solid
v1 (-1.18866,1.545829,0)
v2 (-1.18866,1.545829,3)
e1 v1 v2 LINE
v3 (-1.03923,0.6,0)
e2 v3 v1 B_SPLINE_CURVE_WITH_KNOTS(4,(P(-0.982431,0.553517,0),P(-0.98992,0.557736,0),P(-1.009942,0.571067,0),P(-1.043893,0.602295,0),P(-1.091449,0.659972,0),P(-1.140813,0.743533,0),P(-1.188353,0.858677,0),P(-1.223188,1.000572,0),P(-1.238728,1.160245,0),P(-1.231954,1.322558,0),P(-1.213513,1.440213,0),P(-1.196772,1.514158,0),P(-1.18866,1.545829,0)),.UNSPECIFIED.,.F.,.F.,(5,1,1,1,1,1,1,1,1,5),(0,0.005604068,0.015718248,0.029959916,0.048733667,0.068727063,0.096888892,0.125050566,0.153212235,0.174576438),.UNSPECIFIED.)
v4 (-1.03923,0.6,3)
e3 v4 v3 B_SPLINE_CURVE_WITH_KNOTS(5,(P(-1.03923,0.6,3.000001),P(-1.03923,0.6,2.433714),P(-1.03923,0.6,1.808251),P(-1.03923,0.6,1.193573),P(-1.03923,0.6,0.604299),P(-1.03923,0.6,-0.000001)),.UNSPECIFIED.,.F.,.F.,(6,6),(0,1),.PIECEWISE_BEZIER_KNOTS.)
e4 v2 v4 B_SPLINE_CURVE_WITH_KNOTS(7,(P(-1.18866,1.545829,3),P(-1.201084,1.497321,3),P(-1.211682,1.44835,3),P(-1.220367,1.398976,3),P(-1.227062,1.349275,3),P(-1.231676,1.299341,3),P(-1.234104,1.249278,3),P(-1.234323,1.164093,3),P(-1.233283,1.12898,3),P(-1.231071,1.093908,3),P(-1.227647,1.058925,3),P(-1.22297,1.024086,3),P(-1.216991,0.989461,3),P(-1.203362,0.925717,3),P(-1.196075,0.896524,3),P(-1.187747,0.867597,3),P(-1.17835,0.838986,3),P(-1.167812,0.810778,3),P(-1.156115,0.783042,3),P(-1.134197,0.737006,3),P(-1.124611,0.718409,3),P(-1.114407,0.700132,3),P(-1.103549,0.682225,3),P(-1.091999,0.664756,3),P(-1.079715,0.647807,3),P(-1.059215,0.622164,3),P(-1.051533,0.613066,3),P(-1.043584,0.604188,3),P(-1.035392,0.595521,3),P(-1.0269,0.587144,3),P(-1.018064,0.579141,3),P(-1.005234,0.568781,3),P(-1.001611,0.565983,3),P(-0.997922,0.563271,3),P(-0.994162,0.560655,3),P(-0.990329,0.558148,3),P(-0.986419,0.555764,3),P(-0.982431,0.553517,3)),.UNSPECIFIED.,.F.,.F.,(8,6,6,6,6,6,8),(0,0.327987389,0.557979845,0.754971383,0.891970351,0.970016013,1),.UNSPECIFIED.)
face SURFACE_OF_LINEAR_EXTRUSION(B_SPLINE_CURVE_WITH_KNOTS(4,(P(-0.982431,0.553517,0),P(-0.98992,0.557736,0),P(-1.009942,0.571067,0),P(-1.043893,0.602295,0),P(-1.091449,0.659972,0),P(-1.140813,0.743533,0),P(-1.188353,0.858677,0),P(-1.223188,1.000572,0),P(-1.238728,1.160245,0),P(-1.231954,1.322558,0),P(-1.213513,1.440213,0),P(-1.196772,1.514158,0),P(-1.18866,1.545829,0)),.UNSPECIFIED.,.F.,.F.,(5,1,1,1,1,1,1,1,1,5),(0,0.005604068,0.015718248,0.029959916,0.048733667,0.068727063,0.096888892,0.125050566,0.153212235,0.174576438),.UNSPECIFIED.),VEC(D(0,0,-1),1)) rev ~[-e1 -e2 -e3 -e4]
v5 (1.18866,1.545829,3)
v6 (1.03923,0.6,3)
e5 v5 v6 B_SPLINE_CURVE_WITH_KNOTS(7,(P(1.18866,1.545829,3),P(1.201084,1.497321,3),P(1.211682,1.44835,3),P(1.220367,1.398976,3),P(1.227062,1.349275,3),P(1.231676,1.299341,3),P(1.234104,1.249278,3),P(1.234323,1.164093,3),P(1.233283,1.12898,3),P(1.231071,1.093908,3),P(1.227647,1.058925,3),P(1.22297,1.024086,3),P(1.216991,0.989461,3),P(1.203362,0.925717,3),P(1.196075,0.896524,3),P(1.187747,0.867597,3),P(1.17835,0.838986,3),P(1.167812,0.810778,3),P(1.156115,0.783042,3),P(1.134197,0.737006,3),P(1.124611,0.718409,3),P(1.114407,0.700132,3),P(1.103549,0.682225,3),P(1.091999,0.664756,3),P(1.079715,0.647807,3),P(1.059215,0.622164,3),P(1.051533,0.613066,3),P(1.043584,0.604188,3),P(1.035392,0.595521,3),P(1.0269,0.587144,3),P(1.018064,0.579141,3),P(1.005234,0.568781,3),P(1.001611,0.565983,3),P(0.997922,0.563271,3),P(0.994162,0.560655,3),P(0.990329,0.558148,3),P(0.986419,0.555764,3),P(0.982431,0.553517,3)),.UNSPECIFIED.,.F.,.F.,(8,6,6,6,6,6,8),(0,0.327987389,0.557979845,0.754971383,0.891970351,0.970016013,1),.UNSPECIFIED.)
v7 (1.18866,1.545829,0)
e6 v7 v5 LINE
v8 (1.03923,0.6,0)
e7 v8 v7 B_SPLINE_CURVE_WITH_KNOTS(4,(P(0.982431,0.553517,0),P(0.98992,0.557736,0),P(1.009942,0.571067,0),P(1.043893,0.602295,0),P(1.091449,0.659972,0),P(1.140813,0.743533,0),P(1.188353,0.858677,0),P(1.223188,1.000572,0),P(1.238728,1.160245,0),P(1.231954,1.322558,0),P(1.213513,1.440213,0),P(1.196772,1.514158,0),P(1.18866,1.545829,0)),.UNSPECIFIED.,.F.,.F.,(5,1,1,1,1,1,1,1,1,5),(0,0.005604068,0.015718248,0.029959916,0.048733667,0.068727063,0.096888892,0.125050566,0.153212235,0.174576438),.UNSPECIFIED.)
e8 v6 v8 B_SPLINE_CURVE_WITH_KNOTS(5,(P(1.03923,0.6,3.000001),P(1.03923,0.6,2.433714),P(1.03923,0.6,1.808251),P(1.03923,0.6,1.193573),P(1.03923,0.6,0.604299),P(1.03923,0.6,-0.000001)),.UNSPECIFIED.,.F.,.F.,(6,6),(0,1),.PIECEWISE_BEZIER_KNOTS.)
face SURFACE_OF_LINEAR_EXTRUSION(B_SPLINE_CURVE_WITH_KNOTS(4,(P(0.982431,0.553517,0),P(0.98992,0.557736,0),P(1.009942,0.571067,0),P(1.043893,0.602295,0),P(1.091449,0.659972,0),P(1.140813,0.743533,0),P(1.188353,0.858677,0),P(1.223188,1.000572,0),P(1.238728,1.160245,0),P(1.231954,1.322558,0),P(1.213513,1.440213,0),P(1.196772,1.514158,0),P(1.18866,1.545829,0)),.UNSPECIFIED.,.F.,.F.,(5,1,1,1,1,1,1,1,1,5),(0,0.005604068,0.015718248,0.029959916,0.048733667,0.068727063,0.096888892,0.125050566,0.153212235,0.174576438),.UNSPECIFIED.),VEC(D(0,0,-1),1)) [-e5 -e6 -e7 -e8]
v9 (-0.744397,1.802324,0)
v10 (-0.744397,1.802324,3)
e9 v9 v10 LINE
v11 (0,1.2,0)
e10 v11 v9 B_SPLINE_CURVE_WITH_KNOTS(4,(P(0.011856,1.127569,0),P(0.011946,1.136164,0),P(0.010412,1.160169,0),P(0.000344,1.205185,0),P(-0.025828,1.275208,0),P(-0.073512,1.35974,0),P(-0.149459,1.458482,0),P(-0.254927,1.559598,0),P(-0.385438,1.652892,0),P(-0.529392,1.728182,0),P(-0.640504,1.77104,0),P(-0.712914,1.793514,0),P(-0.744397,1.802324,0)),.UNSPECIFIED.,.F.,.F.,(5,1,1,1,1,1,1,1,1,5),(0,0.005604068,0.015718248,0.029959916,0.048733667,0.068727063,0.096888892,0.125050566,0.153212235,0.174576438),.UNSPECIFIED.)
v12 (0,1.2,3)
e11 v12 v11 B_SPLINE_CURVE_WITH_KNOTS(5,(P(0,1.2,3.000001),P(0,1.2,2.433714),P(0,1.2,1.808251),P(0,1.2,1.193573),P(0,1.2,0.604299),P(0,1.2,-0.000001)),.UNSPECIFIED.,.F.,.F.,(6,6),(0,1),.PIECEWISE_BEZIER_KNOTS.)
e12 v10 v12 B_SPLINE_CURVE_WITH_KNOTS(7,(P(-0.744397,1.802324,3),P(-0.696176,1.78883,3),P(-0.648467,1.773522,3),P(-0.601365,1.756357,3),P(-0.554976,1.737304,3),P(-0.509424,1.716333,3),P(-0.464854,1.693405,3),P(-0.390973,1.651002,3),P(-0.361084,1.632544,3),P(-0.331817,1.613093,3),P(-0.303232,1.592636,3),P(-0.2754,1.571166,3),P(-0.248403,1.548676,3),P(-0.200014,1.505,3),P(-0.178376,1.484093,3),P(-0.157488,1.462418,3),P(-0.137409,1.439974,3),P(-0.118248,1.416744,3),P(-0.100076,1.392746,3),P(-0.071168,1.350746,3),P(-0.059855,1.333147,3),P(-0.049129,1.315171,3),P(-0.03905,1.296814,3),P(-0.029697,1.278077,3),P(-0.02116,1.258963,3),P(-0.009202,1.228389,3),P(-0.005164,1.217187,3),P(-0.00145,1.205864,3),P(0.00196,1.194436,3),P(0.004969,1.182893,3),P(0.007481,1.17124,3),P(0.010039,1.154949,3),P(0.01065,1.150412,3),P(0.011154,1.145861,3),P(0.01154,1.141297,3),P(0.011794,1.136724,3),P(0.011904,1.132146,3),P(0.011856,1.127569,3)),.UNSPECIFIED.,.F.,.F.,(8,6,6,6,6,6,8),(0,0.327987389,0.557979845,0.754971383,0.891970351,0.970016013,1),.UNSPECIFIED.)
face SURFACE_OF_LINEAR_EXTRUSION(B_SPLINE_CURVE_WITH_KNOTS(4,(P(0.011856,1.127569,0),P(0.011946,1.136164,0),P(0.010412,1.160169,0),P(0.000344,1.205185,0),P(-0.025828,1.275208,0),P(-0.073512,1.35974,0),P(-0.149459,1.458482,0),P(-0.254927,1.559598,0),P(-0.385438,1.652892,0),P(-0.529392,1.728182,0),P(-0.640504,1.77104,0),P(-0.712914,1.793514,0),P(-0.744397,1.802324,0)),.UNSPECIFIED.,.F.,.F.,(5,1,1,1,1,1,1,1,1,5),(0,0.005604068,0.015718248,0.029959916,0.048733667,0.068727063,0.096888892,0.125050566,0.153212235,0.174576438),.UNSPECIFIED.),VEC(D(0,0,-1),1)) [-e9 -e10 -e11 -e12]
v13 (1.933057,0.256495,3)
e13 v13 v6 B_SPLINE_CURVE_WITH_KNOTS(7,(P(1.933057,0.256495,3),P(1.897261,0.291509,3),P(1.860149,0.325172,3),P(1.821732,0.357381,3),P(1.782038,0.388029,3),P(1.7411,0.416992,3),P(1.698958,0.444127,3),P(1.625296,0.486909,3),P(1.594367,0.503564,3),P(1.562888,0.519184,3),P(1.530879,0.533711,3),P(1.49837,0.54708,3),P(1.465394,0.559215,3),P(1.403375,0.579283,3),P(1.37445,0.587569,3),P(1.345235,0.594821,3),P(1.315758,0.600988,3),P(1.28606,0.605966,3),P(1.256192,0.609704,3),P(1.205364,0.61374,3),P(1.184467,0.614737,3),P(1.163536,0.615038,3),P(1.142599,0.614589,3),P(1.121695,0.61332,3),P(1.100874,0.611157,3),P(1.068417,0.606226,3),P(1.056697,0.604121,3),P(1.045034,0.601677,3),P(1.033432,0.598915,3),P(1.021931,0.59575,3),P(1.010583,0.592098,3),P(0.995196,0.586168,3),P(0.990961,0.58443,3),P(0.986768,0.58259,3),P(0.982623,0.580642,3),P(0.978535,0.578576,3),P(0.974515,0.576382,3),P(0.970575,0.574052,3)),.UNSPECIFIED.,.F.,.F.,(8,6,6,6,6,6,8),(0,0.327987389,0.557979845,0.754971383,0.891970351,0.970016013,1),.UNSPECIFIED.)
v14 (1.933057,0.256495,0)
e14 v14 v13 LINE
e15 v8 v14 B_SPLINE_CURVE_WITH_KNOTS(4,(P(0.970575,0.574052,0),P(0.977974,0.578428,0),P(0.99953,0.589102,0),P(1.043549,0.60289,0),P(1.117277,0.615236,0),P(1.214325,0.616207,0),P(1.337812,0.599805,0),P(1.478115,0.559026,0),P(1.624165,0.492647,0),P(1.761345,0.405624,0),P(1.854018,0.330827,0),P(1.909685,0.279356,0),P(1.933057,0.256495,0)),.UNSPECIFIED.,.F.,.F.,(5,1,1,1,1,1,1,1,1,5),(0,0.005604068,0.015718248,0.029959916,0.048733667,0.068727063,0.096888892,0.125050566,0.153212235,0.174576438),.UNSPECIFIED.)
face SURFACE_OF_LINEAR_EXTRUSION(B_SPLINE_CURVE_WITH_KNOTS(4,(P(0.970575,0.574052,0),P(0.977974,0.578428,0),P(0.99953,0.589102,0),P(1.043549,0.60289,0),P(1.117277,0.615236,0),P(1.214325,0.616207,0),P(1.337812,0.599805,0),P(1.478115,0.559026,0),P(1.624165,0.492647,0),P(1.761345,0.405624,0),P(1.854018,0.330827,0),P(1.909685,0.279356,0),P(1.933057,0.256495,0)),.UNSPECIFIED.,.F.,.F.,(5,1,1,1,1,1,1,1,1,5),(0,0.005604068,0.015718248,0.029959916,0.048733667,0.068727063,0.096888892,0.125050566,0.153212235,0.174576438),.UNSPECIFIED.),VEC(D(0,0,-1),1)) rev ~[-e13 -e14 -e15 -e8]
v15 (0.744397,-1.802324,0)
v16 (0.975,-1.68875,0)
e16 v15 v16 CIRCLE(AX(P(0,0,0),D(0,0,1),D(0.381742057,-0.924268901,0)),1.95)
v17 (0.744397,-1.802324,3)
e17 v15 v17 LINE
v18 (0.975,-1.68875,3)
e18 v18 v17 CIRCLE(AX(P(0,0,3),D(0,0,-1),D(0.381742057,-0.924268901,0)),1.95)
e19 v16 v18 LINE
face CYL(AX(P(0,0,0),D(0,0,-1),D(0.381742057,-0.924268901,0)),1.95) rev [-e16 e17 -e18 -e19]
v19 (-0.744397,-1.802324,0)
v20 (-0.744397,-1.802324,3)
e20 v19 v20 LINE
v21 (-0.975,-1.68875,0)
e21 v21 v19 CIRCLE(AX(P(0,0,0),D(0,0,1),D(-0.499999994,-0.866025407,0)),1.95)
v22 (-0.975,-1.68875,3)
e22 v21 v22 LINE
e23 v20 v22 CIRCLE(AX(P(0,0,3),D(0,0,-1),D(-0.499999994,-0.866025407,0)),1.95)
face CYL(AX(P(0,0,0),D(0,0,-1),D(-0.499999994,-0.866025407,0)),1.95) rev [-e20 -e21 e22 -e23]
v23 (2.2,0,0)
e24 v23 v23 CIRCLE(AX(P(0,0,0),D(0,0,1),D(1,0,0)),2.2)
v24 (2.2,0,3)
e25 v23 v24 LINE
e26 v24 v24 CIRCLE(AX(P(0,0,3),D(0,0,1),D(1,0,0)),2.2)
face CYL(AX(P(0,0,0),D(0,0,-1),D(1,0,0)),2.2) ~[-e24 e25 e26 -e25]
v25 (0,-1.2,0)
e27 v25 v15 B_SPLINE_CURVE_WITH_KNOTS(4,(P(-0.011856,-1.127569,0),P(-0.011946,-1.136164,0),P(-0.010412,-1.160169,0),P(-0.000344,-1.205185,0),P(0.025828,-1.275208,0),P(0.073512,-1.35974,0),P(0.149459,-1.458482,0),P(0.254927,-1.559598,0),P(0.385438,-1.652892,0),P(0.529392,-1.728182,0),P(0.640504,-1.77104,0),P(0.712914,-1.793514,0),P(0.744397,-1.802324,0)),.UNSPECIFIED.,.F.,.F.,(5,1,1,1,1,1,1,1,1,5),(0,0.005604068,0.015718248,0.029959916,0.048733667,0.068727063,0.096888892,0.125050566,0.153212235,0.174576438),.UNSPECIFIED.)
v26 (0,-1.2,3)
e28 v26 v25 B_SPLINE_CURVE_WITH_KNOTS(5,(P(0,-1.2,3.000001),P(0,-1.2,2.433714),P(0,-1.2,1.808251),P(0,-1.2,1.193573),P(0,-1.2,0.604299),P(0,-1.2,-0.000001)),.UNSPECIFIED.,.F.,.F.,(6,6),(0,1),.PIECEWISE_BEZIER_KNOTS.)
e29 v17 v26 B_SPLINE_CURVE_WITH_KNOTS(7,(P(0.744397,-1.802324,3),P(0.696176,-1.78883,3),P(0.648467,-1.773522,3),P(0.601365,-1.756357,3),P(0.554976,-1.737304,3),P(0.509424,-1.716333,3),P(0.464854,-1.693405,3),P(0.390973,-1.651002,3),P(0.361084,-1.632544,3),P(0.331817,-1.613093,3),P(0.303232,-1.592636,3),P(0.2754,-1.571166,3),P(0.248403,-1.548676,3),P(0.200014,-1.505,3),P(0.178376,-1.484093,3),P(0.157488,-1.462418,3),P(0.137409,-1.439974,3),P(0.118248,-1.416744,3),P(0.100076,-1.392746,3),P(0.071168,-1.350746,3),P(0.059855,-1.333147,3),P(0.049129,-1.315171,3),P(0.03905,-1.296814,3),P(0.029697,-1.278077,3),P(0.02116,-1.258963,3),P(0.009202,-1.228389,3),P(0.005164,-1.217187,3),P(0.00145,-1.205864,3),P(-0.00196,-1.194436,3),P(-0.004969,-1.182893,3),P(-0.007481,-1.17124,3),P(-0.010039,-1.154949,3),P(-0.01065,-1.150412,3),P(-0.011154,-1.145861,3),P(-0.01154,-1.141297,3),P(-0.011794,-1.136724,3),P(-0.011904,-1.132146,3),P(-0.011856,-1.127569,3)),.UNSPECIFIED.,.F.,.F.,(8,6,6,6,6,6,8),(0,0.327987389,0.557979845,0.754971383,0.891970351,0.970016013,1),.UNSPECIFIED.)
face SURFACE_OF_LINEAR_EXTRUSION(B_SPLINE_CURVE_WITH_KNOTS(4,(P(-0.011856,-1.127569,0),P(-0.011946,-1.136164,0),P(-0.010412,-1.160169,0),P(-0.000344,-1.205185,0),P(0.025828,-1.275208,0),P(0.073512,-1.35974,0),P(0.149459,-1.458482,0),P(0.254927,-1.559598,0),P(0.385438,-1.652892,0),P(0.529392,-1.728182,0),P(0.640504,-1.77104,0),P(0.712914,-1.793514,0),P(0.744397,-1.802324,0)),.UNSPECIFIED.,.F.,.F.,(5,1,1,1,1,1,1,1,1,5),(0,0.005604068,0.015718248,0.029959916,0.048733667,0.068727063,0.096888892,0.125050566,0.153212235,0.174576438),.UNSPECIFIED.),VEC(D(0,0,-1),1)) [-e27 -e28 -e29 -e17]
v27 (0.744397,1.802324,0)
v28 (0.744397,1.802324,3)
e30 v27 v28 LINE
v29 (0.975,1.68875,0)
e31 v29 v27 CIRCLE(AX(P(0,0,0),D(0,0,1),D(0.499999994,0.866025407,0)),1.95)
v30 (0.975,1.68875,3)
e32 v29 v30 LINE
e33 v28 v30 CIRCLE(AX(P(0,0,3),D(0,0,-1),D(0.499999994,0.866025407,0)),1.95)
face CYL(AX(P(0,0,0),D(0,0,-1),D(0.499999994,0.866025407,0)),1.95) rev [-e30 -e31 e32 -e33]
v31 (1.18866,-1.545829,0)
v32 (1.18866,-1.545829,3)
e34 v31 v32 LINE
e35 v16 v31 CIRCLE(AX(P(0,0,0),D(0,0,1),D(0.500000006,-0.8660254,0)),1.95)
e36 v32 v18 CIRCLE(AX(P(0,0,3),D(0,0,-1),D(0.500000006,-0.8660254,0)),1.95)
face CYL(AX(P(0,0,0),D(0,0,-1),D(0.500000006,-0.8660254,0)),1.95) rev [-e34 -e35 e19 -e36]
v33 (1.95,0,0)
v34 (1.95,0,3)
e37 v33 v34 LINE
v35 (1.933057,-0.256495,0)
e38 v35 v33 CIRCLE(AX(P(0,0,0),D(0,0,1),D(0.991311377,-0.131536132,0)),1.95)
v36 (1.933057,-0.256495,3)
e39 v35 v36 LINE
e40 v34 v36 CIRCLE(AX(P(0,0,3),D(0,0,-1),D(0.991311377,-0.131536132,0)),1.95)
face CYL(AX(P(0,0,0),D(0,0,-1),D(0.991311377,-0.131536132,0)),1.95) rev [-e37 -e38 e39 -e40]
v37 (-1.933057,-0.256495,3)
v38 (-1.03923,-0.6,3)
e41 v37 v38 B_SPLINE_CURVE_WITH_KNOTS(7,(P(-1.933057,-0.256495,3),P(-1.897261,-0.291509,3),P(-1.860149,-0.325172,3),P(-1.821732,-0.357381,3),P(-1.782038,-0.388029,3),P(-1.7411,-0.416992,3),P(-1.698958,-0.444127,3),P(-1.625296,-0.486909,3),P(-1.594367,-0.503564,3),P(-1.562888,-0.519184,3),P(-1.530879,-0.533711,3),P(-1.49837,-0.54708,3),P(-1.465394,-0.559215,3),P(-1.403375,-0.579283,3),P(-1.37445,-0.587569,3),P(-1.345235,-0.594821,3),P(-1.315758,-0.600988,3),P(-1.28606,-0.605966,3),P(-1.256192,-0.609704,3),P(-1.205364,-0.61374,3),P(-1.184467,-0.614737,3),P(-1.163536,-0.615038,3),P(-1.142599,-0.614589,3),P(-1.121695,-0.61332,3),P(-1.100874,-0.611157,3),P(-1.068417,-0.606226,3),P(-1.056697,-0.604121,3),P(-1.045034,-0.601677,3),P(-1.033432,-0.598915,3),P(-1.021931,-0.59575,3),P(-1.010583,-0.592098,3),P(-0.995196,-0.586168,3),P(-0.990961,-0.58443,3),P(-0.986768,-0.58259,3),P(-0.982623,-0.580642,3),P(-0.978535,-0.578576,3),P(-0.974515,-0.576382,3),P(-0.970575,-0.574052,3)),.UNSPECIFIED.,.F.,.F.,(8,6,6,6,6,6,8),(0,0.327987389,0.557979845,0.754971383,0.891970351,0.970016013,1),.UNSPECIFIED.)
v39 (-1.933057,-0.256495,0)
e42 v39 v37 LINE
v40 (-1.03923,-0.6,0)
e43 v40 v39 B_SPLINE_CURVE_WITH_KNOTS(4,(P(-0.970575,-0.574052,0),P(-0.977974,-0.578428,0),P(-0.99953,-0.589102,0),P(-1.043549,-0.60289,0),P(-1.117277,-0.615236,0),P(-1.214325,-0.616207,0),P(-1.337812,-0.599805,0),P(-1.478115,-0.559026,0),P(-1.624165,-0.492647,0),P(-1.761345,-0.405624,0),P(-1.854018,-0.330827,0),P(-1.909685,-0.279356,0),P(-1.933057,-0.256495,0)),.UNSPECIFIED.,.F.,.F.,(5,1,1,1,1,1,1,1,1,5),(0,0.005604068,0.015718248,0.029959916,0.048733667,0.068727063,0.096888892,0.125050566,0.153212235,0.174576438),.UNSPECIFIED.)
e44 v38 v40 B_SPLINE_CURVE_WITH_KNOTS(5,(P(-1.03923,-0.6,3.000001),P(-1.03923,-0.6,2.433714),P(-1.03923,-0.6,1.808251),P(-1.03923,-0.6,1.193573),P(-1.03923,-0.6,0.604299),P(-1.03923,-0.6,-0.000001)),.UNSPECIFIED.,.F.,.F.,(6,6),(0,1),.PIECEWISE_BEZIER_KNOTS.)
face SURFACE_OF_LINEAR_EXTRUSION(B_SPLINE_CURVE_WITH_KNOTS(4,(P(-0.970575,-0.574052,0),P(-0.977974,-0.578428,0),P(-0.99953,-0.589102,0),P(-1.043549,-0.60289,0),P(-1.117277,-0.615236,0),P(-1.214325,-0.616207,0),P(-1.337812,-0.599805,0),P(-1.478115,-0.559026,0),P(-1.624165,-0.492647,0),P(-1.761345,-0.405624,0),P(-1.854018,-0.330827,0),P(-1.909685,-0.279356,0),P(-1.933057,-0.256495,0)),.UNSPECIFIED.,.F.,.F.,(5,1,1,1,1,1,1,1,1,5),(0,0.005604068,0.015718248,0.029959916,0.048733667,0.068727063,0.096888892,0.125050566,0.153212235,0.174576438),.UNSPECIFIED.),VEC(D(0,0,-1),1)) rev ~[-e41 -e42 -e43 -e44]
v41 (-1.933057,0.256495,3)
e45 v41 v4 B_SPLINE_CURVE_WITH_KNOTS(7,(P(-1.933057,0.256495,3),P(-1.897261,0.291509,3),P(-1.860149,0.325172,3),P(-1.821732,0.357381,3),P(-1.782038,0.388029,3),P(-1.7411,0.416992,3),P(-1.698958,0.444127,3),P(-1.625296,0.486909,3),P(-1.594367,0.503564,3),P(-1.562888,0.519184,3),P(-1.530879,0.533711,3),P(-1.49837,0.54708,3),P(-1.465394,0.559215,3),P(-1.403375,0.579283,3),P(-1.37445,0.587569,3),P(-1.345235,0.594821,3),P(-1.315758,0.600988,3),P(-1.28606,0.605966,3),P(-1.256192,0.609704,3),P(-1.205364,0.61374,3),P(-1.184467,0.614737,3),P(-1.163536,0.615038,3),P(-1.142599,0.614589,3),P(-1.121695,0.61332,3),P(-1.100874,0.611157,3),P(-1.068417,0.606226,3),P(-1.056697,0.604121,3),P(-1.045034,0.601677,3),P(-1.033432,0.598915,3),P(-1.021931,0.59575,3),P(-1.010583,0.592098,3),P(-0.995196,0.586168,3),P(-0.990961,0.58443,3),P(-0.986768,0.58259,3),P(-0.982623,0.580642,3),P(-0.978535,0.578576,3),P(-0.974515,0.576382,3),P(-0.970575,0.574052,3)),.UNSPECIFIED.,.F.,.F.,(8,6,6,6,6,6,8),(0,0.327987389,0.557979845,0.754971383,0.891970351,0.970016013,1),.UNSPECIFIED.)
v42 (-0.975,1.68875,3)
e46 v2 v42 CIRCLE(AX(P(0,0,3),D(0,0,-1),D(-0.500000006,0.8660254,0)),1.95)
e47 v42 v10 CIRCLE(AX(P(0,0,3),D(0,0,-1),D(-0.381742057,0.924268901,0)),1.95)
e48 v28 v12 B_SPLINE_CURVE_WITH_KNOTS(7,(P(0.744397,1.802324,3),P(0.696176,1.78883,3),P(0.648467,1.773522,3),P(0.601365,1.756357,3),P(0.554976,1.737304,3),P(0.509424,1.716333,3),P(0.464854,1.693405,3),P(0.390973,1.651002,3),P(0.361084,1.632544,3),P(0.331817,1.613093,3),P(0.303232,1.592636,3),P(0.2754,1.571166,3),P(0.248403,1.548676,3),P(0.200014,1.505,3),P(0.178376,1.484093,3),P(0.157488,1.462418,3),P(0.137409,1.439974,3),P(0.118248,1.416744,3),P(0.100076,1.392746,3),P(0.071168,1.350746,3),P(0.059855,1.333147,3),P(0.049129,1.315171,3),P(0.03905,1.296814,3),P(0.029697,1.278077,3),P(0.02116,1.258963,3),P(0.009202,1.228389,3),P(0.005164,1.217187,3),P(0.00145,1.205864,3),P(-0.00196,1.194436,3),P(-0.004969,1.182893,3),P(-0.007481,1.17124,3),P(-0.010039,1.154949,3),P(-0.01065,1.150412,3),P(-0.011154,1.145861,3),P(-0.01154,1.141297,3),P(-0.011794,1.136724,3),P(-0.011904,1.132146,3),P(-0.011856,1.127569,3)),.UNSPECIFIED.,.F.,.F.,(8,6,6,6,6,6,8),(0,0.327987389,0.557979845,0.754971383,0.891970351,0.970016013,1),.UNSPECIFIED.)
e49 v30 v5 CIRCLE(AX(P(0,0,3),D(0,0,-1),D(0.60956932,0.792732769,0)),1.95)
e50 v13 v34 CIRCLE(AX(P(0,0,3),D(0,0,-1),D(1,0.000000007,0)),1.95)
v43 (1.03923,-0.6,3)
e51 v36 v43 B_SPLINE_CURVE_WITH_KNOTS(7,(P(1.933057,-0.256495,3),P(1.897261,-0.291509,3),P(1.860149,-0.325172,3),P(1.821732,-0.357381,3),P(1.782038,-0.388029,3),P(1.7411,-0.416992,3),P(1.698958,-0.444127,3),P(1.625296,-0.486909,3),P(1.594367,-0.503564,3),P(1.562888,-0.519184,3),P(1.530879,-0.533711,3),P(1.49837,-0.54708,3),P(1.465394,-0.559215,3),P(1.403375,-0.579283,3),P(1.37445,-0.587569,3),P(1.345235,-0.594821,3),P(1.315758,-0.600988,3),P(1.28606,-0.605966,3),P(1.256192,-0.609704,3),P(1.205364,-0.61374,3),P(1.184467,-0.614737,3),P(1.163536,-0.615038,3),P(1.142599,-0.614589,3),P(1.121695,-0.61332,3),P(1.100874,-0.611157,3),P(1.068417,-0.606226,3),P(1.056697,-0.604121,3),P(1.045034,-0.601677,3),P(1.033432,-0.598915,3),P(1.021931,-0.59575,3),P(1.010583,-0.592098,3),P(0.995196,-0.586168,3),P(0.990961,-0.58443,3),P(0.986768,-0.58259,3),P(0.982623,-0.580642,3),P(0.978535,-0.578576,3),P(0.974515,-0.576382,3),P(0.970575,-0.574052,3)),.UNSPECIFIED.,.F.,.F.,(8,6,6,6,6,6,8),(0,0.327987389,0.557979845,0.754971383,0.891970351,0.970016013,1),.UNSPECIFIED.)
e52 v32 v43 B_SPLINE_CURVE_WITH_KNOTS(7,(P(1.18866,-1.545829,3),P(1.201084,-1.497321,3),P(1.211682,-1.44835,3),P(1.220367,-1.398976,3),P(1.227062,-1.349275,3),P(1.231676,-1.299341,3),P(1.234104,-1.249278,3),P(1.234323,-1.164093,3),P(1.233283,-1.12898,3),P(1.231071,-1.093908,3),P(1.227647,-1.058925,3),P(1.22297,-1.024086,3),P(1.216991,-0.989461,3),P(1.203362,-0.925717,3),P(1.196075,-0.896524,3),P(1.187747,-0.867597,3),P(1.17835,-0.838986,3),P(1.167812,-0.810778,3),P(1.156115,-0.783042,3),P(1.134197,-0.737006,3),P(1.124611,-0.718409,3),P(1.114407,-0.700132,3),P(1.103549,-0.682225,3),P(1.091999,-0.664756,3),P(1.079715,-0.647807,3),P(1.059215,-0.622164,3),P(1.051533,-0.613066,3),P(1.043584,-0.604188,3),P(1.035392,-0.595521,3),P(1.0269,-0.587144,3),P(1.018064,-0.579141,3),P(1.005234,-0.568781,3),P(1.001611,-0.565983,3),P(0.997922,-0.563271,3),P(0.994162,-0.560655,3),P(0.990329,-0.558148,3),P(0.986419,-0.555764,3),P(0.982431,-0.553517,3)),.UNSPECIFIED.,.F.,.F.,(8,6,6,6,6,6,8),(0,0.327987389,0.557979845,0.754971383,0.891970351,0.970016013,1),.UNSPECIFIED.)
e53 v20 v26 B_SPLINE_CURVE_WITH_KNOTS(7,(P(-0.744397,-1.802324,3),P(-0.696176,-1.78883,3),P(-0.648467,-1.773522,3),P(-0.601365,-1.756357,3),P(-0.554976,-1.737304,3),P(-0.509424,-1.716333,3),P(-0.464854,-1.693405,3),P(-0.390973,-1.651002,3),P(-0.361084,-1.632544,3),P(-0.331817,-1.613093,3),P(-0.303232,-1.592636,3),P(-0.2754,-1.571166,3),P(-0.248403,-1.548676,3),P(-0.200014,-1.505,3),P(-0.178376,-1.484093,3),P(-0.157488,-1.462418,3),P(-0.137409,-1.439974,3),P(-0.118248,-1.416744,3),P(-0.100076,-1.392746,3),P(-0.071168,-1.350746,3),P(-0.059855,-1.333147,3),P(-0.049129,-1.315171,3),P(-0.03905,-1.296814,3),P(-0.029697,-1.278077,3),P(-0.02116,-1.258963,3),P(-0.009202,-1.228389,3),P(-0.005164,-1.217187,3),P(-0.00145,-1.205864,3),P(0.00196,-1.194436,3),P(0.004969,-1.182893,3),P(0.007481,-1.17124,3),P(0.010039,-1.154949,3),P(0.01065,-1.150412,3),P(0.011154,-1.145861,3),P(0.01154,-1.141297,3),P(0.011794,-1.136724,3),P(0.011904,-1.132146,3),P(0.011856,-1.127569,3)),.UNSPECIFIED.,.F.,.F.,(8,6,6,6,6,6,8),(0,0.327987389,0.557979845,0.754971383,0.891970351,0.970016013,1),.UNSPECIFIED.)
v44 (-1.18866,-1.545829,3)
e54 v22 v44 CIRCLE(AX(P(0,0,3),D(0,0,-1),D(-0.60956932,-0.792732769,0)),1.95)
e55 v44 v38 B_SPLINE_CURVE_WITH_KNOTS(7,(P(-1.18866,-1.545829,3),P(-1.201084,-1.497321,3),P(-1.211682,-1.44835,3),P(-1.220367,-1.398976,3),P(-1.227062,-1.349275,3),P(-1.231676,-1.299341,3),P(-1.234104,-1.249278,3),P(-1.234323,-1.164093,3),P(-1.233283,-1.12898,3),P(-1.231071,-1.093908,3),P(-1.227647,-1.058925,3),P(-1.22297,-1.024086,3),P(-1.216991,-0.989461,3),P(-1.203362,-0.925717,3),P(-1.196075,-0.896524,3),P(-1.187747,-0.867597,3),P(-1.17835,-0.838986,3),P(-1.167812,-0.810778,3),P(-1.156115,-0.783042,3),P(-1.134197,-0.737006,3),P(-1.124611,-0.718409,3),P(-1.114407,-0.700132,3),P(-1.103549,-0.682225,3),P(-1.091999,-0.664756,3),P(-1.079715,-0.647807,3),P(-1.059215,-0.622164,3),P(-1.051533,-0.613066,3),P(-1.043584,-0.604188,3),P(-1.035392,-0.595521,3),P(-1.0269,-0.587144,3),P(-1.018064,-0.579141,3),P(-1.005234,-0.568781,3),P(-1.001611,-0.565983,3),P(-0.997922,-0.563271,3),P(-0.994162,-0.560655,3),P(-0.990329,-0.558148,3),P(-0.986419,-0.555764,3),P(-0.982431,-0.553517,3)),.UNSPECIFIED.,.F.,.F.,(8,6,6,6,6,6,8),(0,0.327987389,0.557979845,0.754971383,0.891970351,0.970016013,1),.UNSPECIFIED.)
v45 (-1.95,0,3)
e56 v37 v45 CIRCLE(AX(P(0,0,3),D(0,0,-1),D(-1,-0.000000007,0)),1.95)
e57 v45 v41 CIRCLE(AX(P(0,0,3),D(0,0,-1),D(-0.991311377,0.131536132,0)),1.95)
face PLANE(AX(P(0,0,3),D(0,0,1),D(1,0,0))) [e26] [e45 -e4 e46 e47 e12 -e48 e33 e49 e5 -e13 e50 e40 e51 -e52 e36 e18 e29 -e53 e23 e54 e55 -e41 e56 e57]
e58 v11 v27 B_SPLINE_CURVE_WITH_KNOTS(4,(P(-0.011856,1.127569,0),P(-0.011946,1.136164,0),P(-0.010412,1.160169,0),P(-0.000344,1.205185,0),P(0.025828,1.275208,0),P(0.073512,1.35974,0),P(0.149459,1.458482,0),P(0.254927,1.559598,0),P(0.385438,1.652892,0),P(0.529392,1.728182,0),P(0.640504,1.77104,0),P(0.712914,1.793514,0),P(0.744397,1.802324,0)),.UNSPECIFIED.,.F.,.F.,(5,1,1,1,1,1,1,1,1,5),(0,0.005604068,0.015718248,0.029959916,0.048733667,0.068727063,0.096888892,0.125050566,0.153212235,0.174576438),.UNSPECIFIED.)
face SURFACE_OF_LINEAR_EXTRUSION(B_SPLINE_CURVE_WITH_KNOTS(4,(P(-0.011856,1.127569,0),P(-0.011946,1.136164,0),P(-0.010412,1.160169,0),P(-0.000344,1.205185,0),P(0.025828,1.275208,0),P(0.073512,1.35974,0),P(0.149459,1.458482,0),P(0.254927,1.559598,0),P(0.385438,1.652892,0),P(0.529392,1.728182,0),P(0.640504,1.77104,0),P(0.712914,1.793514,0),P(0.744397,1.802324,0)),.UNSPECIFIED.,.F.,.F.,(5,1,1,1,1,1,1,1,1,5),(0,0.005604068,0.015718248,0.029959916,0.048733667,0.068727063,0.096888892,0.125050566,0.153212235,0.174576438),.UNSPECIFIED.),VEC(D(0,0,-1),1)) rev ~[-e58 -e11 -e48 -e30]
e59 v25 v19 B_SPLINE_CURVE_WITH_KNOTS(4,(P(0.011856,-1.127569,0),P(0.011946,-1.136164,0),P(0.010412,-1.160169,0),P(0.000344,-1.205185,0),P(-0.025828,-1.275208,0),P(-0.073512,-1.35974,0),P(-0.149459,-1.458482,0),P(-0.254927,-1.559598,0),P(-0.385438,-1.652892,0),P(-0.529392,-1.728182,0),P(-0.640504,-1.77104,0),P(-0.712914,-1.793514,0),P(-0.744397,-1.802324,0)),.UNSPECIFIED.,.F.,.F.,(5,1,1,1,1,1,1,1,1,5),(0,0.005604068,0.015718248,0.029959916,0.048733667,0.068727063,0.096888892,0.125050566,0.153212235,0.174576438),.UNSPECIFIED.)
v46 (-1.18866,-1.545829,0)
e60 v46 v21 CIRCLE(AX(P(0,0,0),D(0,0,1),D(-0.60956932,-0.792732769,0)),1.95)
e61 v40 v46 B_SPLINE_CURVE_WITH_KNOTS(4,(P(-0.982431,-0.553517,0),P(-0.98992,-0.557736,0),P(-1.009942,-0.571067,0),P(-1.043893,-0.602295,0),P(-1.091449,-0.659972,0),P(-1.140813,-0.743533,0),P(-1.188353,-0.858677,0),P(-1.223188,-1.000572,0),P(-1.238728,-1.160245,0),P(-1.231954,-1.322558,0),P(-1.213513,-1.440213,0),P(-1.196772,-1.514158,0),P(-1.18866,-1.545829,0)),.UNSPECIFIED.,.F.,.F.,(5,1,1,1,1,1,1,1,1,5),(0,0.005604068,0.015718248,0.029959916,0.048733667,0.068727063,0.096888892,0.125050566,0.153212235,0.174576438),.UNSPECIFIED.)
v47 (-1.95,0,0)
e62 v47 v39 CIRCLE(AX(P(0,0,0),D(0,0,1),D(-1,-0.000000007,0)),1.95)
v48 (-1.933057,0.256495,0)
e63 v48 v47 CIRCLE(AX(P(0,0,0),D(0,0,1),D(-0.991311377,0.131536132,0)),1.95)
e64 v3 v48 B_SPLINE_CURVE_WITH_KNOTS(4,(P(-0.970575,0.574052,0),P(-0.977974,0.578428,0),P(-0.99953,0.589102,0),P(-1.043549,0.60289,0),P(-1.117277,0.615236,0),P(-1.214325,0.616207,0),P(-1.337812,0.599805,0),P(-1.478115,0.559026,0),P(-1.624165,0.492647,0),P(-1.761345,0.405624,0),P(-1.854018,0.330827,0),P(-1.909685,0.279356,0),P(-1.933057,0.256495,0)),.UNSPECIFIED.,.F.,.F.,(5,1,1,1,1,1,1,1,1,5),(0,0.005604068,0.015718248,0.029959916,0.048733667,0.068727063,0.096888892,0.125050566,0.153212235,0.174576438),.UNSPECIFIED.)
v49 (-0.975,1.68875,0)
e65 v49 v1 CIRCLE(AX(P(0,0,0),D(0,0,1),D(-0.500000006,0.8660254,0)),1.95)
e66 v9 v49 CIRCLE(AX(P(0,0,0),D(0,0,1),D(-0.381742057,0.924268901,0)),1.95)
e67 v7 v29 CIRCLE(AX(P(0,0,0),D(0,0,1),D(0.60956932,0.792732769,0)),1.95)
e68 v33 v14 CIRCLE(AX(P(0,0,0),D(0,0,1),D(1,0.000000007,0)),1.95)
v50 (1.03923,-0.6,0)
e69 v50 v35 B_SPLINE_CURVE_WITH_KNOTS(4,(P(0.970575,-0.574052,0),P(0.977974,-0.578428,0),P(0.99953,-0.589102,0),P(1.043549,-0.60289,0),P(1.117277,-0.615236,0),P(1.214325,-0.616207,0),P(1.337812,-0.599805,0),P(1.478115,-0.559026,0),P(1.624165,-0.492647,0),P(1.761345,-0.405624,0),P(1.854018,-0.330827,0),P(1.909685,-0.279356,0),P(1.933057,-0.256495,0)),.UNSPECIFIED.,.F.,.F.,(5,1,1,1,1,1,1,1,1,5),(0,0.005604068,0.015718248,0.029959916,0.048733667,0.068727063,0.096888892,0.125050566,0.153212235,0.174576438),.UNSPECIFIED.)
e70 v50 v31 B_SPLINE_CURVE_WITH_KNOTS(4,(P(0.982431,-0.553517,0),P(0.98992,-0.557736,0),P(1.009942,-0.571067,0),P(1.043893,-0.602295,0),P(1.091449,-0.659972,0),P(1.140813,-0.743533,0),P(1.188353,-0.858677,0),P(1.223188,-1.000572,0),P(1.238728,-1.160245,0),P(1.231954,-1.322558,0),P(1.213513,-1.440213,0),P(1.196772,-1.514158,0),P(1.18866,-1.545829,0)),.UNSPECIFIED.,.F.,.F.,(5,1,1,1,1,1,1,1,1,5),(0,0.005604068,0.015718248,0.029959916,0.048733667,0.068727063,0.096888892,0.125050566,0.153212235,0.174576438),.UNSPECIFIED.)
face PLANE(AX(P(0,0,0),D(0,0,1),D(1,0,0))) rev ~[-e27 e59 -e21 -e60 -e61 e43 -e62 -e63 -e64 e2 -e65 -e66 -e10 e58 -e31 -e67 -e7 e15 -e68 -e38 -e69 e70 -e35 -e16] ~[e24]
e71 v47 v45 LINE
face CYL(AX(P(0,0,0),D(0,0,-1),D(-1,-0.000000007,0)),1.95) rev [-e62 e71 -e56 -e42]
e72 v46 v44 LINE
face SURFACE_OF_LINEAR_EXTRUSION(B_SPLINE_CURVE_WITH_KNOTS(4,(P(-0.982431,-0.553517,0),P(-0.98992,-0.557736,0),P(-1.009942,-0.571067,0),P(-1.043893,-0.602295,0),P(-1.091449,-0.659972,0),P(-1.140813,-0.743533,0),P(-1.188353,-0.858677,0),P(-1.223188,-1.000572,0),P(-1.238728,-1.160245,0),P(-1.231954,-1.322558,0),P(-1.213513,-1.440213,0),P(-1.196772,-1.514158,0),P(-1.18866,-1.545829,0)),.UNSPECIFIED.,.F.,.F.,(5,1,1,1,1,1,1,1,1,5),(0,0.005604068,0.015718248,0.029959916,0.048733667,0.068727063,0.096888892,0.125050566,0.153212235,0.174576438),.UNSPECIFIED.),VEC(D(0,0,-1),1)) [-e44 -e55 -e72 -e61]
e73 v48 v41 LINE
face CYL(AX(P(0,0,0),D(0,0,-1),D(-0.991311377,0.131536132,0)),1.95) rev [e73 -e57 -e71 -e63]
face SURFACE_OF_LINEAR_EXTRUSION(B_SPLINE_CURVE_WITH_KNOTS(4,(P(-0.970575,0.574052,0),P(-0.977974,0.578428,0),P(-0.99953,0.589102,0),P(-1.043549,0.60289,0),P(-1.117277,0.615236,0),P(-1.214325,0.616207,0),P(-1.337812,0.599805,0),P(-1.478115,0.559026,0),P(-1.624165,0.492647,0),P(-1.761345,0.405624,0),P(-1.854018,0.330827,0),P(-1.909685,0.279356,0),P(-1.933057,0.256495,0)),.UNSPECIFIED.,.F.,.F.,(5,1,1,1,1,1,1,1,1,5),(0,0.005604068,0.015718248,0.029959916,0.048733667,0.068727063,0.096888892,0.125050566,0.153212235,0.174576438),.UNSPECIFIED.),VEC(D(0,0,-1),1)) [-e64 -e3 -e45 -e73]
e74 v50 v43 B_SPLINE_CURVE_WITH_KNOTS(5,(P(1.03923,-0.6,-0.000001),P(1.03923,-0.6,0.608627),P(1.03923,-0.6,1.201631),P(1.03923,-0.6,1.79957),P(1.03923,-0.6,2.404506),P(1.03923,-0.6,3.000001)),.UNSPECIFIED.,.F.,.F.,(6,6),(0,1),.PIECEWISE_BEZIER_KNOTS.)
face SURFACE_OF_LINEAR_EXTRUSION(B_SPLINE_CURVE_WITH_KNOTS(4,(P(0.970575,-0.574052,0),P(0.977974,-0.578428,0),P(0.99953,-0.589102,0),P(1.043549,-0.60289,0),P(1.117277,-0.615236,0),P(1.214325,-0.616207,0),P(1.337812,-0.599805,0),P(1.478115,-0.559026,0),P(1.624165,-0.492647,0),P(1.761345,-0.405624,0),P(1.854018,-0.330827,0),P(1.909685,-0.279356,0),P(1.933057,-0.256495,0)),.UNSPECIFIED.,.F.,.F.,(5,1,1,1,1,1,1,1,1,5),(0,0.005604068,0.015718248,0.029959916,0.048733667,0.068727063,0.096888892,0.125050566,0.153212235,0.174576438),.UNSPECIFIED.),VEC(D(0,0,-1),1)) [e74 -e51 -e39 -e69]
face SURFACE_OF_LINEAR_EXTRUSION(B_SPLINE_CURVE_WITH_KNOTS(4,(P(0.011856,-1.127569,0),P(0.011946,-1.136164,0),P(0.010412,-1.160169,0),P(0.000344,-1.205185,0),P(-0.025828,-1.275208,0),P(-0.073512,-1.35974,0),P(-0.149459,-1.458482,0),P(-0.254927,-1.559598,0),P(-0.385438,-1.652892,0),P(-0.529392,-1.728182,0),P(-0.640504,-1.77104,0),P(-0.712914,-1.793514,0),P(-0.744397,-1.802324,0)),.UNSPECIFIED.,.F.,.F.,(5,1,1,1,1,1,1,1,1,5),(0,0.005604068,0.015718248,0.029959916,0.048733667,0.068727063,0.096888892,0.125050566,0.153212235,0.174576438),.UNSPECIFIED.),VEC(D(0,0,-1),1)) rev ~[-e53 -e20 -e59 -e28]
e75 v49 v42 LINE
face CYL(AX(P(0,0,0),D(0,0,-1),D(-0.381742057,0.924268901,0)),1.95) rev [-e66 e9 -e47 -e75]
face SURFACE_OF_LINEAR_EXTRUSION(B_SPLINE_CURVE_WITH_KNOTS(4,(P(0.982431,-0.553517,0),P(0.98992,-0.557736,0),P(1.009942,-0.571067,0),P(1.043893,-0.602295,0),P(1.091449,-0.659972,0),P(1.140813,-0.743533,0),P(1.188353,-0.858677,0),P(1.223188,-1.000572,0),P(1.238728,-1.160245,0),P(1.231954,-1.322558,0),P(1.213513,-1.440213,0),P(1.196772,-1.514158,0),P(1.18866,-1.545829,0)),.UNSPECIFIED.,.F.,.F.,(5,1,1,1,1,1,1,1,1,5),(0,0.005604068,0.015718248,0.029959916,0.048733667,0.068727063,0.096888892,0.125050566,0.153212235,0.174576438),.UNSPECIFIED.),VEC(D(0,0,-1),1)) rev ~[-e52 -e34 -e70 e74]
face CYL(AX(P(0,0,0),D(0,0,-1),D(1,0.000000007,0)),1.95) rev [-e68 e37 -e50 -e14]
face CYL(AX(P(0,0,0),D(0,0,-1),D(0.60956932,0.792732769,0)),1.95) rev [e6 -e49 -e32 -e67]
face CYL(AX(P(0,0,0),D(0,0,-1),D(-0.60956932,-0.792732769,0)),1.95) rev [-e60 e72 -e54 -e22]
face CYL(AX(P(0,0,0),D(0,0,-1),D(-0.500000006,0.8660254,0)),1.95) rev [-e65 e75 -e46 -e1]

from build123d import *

# Parameters (mm, degrees)
SKETCH_1_R               = 2.2
SKETCH_1_R_2             = 1.05
EXTRUDE_1_DEPTH          = 3
CUT_EXTRUDE_2_DEPTH      = 5.322036557
PATTERN_CIRCULAR_1_COUNT = 6


with BuildPart() as part:
    # 草图1 → 凸台-拉伸1 (new body)
    with BuildSketch(Plane.XY):
        Circle(SKETCH_1_R)
        Circle(SKETCH_1_R_2, mode=Mode.SUBTRACT)
    extrude(amount=EXTRUDE_1_DEPTH)

    # 草图1<3> → 切除-拉伸2 (cut, through all)
    with BuildSketch(Plane.XY):
        with BuildLine():
            Line((0.97057531, 0.574051885), (0.903756587, 0.534531599))
            ThreePointArc((0.903756587, 0.534531599), (1.012779447, 0.277088058), (1.05, 0))
            ThreePointArc((1.05, 0), (1.012779447, -0.277088058), (0.903756587, -0.534531599))
            Line((0.903756587, -0.534531599), (0.97057531, -0.574051885))
            add(Edge.make_bspline(
                [(0.97057531, -0.574051885), (0.977973742, -0.578427727), (0.999529885, -0.589101664), (1.043549257, -0.602890479), (1.117277172, -0.615236154), (1.21432505, -0.616206808), (1.33781215, -0.599805412), (1.478114557, -0.559025913), (1.624165195, -0.492647236), (1.761345474, -0.4056243), (1.854017664, -0.330826946), (1.909685478, -0.279355742), (1.933057183, -0.256495473)],
                knots=[0, 0, 0, 0, 0, 0.005604068, 0.015718248, 0.029959916, 0.048733667, 0.068727063, 0.096888892, 0.125050566, 0.153212235, 0.174576438, 0.174576438, 0.174576438, 0.174576438, 0.174576438], degree=4))
            ThreePointArc((1.933057183, -0.256495473), (1.945759685, -0.128527221), (1.95, 0))
            ThreePointArc((1.95, 0), (1.945759685, 0.128527221), (1.933057183, 0.256495473))
            add(Edge.make_bspline(
                [(0.97057531, 0.574051885), (0.977973742, 0.578427727), (0.999529885, 0.589101664), (1.043549257, 0.602890479), (1.117277172, 0.615236154), (1.21432505, 0.616206808), (1.33781215, 0.599805412), (1.478114557, 0.559025913), (1.624165195, 0.492647236), (1.761345474, 0.4056243), (1.854017664, 0.330826946), (1.909685478, 0.279355742), (1.933057183, 0.256495473)],
                knots=[0, 0, 0, 0, 0, 0.005604068, 0.015718248, 0.029959916, 0.048733667, 0.068727063, 0.096888892, 0.125050566, 0.153212235, 0.174576438, 0.174576438, 0.174576438, 0.174576438, 0.174576438], degree=4))
        make_face()
    cut_extrude_2 = extrude(amount=CUT_EXTRUDE_2_DEPTH, mode=Mode.SUBTRACT)

    # 阵列(圆周)1: 切除-拉伸2 ×6 about axis
    pattern_circular_1_axis = Axis((0, 0, 3), (0, 0, 1))
    for i in range(1, PATTERN_CIRCULAR_1_COUNT):
        add(cut_extrude_2.rotate(pattern_circular_1_axis, i * 360 / PATTERN_CIRCULAR_1_COUNT), mode=Mode.SUBTRACT)


solid = part.part
